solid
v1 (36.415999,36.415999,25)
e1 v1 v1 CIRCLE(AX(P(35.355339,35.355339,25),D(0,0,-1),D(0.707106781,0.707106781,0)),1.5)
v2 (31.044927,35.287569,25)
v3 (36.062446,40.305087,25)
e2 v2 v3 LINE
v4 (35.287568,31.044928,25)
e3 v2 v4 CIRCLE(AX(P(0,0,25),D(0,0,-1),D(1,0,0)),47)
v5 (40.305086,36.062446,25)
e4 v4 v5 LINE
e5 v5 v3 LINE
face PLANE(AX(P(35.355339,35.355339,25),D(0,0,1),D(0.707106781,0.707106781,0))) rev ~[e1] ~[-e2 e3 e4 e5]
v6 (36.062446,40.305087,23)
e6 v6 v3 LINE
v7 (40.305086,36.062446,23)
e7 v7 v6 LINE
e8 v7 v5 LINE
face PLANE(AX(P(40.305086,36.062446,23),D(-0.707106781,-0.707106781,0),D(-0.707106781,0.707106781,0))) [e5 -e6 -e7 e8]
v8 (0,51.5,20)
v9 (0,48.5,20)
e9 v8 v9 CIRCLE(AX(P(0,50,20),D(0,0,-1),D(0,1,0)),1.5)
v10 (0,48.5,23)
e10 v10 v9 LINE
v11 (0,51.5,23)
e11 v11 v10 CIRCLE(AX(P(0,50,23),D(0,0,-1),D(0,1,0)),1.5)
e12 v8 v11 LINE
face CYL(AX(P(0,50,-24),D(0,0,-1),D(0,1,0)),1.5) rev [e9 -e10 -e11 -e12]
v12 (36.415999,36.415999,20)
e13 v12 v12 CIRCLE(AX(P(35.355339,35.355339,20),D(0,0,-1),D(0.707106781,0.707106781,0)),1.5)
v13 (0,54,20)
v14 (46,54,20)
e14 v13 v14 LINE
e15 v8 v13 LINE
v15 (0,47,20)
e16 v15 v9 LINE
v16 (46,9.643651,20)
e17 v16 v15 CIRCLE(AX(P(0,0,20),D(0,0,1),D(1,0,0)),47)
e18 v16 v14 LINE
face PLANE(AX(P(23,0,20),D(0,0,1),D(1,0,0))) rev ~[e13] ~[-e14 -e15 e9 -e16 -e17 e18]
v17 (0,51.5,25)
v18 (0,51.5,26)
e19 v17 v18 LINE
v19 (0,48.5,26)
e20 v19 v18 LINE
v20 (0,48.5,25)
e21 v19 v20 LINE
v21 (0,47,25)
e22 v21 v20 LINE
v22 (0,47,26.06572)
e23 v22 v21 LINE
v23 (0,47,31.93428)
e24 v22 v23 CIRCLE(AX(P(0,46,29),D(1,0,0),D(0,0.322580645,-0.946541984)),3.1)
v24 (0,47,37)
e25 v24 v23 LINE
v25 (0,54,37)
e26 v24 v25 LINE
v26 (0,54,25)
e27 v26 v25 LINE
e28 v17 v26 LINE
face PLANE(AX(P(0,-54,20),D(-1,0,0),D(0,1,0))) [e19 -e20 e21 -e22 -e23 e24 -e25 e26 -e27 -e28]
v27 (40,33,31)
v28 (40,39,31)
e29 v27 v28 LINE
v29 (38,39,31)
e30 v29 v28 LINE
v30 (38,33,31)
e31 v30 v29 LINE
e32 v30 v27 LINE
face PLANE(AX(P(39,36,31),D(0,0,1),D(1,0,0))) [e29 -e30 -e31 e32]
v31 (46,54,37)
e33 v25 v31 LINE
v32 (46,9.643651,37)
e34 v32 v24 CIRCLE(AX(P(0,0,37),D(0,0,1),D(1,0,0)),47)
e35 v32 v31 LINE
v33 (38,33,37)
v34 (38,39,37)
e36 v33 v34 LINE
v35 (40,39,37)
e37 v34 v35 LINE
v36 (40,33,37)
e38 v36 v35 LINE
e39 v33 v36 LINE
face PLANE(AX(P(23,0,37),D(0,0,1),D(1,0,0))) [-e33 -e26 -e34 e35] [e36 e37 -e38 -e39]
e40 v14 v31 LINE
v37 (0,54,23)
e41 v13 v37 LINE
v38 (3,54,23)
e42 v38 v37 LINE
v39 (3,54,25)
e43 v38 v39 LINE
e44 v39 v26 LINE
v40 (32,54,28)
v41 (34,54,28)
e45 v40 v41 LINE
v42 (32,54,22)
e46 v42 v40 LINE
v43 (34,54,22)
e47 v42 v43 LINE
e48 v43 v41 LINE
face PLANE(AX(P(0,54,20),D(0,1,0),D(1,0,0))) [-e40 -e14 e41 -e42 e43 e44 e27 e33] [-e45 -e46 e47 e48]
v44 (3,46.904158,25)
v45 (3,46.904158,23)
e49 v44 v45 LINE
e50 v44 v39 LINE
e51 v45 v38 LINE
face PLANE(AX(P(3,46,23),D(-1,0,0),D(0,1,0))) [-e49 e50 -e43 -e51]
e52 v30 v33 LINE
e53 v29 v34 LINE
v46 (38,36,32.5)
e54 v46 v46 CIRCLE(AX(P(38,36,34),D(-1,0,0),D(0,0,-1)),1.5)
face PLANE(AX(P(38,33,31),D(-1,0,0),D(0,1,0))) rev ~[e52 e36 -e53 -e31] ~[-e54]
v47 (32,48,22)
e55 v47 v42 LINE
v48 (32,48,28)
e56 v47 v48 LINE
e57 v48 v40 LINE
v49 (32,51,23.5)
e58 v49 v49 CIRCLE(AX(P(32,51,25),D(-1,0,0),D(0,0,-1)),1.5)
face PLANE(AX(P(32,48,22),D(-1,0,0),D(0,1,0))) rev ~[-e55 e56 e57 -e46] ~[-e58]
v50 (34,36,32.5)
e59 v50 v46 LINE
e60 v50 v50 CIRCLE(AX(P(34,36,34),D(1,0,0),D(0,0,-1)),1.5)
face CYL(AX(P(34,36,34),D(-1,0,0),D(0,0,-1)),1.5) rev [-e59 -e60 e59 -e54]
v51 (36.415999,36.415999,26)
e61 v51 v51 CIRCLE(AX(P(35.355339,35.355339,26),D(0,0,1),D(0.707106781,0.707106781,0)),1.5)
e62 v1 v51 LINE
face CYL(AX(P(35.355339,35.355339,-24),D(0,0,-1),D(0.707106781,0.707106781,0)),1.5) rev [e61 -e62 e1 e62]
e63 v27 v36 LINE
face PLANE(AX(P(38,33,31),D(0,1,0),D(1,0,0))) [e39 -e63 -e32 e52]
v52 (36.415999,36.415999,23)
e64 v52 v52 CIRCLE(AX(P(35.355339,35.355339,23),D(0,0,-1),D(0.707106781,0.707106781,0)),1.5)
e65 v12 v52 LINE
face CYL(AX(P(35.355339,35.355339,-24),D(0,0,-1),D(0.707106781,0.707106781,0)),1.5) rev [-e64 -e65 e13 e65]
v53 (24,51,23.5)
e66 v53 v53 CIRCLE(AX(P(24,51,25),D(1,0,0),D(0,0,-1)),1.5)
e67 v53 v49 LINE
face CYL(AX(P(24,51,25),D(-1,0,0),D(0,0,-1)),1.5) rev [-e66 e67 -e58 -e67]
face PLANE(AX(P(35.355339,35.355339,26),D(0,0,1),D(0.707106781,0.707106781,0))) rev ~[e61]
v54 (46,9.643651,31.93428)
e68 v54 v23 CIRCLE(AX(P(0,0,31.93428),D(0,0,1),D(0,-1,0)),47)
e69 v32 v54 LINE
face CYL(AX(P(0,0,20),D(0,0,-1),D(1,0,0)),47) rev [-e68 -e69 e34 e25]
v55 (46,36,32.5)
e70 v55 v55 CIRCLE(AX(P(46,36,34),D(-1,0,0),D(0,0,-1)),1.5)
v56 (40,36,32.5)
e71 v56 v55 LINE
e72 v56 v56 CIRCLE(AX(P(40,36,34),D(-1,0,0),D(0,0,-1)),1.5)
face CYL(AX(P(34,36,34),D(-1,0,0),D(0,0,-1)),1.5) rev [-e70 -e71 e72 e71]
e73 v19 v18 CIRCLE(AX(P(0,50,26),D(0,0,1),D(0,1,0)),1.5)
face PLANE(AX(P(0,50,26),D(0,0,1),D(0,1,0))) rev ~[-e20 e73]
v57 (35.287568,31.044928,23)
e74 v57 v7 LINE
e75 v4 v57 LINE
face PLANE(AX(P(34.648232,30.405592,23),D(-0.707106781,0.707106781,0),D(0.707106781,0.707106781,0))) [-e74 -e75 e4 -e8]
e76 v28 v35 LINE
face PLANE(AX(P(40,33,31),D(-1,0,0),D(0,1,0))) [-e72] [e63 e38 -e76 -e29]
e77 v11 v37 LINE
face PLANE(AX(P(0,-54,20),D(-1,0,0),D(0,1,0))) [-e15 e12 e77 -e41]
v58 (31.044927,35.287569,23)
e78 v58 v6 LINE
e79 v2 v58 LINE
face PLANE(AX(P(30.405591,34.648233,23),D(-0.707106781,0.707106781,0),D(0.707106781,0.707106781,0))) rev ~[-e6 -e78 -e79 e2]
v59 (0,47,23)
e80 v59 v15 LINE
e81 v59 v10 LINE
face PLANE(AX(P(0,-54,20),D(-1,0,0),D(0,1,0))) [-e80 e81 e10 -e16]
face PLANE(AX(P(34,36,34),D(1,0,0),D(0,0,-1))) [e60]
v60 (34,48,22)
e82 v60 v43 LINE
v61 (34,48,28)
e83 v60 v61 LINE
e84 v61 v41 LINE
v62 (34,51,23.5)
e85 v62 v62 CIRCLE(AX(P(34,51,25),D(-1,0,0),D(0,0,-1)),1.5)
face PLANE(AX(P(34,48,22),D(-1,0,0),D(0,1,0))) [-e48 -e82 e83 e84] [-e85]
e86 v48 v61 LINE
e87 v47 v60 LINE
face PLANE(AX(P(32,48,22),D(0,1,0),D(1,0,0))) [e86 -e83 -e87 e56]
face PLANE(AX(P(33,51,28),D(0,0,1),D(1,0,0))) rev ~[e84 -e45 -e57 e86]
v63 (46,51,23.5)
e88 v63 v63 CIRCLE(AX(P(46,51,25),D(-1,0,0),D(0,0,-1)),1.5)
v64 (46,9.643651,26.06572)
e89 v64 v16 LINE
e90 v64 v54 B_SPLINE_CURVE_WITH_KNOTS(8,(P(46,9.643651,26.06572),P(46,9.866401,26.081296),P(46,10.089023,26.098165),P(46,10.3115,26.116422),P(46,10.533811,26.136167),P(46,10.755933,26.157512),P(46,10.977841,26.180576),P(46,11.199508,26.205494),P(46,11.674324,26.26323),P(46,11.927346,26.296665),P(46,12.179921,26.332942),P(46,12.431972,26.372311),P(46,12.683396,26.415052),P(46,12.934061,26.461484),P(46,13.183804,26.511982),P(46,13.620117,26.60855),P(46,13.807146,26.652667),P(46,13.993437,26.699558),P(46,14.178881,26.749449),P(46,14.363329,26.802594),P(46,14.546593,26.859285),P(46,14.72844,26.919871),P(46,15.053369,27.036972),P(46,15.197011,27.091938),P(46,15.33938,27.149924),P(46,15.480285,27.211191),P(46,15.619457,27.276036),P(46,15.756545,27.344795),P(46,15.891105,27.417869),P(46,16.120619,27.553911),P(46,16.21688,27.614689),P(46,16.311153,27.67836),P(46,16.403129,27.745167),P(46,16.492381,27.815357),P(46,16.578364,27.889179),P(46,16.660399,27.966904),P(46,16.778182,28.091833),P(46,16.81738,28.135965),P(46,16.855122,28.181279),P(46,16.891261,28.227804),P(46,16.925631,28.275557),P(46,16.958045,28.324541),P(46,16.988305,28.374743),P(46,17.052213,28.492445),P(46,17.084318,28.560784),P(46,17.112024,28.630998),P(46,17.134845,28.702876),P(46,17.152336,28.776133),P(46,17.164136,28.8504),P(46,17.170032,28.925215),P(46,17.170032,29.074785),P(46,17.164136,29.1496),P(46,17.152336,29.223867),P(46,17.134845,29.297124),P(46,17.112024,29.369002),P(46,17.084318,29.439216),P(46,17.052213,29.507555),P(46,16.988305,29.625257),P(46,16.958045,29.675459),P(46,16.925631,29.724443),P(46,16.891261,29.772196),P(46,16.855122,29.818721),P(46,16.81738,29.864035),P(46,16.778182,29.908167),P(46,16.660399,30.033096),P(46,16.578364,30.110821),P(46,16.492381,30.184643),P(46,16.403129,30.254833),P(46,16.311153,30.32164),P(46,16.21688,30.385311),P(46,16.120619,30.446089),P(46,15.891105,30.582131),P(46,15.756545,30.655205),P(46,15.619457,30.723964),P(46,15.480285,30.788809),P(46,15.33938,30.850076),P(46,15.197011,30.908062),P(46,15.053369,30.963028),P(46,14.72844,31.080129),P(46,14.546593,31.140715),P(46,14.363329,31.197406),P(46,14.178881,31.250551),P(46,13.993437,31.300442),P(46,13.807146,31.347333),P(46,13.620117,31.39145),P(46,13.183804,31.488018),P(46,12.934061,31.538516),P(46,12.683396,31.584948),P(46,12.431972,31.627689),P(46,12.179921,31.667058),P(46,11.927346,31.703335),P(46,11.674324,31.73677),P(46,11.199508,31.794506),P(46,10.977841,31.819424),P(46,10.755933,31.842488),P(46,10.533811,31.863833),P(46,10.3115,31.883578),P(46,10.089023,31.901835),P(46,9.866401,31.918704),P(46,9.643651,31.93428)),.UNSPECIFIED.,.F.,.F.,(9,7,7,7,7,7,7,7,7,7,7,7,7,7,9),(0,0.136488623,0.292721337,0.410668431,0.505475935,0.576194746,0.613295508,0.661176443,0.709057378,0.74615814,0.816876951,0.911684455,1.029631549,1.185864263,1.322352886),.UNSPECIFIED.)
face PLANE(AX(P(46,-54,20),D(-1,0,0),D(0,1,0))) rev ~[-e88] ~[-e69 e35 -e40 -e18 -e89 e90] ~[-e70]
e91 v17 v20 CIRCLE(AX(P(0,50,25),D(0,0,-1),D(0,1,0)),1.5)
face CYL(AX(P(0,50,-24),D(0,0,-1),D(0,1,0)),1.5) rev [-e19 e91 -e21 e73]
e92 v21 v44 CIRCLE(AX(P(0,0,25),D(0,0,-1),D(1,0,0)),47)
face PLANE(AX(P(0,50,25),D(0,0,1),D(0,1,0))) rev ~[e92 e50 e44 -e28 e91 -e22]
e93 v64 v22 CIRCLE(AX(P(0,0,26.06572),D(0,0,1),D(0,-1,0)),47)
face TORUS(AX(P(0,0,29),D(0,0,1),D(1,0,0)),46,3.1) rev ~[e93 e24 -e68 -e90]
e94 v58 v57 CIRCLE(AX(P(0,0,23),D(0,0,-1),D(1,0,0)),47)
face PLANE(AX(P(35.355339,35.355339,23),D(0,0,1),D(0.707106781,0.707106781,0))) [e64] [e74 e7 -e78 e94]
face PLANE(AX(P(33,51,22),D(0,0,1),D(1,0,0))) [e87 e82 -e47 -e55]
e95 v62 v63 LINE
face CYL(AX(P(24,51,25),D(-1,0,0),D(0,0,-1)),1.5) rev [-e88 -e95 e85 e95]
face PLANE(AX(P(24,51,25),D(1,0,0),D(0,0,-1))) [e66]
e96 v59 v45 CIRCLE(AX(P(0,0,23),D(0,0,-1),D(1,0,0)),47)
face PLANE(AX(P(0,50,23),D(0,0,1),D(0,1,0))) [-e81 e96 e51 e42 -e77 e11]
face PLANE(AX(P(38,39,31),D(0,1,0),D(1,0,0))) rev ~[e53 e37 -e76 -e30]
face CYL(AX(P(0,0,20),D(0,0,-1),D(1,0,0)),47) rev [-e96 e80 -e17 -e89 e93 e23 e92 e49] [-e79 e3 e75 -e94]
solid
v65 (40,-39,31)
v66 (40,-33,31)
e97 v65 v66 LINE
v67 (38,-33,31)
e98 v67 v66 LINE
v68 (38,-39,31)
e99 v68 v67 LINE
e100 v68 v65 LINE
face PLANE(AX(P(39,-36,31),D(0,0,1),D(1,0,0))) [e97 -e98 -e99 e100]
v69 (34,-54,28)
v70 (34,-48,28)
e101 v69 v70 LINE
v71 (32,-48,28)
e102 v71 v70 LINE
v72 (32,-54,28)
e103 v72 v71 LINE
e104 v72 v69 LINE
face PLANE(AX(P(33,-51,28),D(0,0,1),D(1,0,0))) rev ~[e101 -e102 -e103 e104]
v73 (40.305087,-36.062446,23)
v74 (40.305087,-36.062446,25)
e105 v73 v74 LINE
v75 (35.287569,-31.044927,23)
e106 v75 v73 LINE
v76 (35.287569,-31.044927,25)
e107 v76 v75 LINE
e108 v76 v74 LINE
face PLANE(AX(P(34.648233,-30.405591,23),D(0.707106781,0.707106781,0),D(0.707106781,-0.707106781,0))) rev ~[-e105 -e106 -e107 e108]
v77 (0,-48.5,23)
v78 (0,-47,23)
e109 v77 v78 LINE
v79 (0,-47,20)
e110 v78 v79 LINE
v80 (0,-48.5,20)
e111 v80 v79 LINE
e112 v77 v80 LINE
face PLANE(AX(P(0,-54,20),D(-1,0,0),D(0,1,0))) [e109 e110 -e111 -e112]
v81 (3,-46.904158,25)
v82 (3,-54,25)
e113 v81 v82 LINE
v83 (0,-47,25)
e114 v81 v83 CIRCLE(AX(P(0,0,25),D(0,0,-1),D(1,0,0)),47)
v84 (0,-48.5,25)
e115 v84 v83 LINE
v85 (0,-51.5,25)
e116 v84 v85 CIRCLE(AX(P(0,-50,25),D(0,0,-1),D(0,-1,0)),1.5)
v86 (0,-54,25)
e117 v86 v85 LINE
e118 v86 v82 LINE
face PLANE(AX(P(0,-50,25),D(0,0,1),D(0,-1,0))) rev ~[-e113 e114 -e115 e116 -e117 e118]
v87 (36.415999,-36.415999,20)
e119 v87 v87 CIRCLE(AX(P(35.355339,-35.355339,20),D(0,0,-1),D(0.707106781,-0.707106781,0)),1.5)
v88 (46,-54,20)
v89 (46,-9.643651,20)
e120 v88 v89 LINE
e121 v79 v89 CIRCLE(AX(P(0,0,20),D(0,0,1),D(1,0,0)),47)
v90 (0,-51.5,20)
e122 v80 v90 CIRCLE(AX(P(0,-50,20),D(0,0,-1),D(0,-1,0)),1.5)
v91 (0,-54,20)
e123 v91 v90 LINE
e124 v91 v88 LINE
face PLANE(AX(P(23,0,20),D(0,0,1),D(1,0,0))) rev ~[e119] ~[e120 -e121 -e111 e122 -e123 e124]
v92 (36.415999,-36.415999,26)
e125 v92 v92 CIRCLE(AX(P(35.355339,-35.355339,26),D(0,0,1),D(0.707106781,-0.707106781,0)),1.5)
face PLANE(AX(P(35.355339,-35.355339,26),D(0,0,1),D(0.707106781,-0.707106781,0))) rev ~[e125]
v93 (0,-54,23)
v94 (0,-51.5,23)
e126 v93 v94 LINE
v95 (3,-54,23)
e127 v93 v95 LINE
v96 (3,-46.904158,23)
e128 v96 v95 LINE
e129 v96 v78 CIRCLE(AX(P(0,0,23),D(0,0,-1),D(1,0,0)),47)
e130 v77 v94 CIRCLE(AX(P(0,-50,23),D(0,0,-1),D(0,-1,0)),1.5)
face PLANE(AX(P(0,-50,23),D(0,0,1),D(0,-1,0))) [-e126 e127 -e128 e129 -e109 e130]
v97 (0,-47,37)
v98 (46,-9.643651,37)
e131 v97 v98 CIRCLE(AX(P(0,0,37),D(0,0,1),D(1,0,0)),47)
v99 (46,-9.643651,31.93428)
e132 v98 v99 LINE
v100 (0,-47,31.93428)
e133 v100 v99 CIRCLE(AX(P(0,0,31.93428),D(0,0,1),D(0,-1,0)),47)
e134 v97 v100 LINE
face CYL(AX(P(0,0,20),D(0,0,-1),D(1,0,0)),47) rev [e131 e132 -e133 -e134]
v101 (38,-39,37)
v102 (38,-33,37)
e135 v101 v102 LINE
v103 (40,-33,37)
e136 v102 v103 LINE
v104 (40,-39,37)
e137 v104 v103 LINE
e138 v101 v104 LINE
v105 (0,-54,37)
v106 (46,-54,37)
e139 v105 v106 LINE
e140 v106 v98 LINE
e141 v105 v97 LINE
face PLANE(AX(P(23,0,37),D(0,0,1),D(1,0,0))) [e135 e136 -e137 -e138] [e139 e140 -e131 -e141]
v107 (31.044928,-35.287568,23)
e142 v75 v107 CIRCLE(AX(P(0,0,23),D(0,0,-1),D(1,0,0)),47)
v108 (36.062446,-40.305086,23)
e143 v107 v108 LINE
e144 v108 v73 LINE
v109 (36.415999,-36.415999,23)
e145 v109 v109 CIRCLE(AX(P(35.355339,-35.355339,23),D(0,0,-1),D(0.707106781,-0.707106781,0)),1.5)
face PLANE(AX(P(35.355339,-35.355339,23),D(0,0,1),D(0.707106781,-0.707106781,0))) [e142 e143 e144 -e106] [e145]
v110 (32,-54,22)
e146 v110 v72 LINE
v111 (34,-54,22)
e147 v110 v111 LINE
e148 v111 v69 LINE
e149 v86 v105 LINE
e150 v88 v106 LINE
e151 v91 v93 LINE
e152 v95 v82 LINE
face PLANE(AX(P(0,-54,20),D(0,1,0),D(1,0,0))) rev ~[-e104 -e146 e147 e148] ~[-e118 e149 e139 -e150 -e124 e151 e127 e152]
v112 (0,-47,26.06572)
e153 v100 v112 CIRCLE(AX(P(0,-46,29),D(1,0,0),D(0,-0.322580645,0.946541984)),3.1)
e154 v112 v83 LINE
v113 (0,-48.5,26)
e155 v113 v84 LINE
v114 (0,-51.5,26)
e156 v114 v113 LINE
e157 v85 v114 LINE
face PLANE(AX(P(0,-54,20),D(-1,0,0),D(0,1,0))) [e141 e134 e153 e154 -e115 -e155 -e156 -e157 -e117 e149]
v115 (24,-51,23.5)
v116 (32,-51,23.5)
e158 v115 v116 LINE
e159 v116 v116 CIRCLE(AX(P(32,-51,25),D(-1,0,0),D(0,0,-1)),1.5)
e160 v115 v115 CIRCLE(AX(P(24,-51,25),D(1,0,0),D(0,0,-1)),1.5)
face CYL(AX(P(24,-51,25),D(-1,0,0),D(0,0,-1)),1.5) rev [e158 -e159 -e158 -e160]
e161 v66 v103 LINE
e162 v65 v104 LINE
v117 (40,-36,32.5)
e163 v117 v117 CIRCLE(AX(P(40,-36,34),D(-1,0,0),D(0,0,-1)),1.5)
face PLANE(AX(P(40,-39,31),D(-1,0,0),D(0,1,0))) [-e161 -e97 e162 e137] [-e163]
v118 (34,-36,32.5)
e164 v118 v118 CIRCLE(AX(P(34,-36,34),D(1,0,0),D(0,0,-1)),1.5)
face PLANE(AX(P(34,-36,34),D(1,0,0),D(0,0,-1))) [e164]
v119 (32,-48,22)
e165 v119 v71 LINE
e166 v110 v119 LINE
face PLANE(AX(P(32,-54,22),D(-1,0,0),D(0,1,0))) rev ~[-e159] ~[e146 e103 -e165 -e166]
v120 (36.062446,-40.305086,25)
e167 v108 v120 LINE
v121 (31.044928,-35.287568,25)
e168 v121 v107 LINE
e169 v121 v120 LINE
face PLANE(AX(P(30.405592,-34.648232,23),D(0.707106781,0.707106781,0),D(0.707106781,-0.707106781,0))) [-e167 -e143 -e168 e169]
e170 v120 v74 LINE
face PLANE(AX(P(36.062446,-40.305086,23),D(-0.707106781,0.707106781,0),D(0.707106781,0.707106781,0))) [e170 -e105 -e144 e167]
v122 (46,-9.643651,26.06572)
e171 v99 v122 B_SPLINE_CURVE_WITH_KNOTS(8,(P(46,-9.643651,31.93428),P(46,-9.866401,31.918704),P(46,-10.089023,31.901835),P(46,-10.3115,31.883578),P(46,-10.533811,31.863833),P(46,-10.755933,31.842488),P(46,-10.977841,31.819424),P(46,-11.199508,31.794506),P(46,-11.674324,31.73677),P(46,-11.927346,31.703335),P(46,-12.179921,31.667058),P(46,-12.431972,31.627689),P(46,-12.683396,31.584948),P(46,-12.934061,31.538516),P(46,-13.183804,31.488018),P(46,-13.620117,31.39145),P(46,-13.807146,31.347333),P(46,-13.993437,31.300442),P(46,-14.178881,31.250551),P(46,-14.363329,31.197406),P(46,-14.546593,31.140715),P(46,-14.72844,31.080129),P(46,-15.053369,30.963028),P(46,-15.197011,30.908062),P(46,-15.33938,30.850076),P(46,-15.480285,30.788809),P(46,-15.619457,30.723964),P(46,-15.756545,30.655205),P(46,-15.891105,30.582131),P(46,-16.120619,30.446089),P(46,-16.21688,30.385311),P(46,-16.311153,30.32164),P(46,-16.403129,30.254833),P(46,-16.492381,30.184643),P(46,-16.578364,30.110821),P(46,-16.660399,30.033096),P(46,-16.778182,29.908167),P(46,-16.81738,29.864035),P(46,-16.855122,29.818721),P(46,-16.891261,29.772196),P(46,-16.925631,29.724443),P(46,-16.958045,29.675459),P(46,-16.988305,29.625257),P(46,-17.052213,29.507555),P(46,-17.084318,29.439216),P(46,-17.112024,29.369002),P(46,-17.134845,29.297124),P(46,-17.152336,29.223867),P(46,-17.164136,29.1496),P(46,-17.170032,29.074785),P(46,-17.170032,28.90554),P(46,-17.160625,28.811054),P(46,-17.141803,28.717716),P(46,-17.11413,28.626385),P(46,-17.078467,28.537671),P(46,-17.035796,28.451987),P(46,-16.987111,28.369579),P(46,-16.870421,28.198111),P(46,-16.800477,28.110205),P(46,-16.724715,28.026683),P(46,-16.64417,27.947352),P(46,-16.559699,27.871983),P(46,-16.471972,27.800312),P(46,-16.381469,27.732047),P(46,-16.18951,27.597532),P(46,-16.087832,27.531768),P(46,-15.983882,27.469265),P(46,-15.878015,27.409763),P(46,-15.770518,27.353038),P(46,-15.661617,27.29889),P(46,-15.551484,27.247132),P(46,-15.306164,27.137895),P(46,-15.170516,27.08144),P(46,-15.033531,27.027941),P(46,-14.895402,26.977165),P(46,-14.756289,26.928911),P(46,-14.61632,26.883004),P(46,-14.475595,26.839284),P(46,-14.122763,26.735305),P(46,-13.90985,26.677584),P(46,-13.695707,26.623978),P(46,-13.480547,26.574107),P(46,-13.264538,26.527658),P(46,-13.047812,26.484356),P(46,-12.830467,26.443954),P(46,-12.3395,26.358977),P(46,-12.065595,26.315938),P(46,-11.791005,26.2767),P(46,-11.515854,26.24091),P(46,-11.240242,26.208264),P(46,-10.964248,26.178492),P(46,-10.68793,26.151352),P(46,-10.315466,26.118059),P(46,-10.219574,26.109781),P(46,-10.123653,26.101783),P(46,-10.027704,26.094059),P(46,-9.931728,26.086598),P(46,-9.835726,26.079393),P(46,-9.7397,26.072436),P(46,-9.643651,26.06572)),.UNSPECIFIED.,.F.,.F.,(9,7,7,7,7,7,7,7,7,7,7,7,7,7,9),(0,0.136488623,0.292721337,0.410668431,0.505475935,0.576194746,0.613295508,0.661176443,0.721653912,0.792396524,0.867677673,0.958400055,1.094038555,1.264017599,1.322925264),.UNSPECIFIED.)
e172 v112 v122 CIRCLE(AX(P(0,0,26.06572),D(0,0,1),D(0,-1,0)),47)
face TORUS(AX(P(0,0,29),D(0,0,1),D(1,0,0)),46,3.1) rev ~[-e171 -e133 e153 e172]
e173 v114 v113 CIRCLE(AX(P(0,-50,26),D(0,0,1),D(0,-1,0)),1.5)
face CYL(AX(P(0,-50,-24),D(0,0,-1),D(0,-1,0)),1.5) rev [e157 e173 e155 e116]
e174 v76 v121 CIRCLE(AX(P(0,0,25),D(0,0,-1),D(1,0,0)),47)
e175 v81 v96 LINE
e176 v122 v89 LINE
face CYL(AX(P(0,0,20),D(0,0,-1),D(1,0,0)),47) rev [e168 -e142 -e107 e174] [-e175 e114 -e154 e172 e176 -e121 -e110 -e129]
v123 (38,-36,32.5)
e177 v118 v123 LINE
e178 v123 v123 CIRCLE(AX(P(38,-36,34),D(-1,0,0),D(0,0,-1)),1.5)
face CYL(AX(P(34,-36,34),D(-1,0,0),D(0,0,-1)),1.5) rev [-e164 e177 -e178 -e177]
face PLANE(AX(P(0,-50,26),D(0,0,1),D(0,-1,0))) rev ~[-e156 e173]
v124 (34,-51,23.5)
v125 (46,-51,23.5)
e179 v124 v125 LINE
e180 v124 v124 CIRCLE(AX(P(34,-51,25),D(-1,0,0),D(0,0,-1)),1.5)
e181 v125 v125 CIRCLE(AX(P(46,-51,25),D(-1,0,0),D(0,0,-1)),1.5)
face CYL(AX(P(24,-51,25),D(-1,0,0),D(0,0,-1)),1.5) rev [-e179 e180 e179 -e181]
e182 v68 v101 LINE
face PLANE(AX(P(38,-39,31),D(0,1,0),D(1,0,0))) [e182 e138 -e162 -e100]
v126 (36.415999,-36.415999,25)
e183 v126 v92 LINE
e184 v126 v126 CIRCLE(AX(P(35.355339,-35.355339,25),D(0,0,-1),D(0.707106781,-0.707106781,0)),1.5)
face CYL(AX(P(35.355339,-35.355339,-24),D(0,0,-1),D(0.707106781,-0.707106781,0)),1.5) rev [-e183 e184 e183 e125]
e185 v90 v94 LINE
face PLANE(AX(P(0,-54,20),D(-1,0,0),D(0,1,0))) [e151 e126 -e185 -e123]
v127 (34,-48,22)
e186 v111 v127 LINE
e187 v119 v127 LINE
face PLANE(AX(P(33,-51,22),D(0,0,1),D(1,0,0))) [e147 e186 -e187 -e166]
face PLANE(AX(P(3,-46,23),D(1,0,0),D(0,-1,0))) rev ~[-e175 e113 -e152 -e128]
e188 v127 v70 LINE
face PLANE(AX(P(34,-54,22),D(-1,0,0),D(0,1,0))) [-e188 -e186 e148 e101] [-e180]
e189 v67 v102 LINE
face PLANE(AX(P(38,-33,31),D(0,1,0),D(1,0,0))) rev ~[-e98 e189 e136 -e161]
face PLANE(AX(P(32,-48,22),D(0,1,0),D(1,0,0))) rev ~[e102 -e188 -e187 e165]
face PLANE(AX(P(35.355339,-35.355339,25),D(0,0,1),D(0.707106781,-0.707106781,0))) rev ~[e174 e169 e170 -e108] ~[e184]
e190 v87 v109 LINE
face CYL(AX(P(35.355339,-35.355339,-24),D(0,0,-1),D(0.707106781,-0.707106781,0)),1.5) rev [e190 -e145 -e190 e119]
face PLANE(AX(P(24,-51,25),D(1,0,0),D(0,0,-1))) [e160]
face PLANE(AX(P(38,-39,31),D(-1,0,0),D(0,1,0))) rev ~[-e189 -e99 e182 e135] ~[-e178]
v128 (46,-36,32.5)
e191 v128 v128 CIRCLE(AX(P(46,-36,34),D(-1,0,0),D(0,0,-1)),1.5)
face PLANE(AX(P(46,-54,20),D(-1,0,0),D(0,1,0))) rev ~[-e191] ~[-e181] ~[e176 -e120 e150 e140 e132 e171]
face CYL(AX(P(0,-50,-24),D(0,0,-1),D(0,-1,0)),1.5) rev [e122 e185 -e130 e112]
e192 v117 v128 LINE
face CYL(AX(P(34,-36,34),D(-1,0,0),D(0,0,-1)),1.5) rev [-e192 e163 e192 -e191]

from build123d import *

# Parameters (mm, degrees)
BOX178_W                    = 2
BOX178_H                    = 6
BOX178_DEPTH                = 6
BOX179_W                    = 2
BOX179_H                    = 6
BOX179_DEPTH                = 6
BOX180_W                    = 2
BOX180_H                    = 6
BOX180_DEPTH                = 6
BOX177_W                    = 2
BOX177_H                    = 6
BOX177_DEPTH                = 6
CYLINDER392_R               = 1.5
CYLINDER392_DEPTH           = 100
CYLINDER393_R               = 1.5
CYLINDER393_DEPTH           = 100
CYLINDER394_R               = 1.5
CYLINDER394_DEPTH           = 100
CYLINDER391_R               = 1.5
CYLINDER391_DEPTH           = 100
BOX171_W                    = 8
BOX171_H                    = 6
BOX171_DEPTH                = 2
BOX171_PLACEMENT_ANGLE      = 45
BOX165_W                    = 8
BOX165_H                    = 6
BOX165_DEPTH                = 2
BOX166_W                    = 8
BOX166_H                    = 6
BOX166_DEPTH                = 2
BOX166_PLACEMENT_ANGLE      = 135
BOX168_W                    = 8
BOX168_H                    = 6
BOX168_DEPTH                = 2
BOX169_W                    = 8
BOX169_H                    = 6
BOX169_DEPTH                = 2
BOX169_PLACEMENT_ANGLE      = 225
BOX172_W                    = 8
BOX172_H                    = 6
BOX172_DEPTH                = 2
BOX170_W                    = 8
BOX170_H                    = 6
BOX170_DEPTH                = 2
BOX170_PLACEMENT_ANGLE      = 45
BOX167_W                    = 8
BOX167_H                    = 6
BOX167_DEPTH                = 2
CYLINDER375_R               = 1.5
CYLINDER375_DEPTH           = 50
CYLINDER375_PLACEMENT_ANGLE = 45
CYLINDER376_R               = 1.5
CYLINDER376_DEPTH           = 50
CYLINDER377_R               = 1.5
CYLINDER377_DEPTH           = 50
CYLINDER377_PLACEMENT_ANGLE = 135
CYLINDER378_R               = 1.5
CYLINDER378_DEPTH           = 50
CYLINDER379_R               = 1.5
CYLINDER379_DEPTH           = 50
CYLINDER379_PLACEMENT_ANGLE = 225
CYLINDER380_R               = 1.5
CYLINDER380_DEPTH           = 50
CYLINDER381_R               = 1.5
CYLINDER381_DEPTH           = 50
CYLINDER381_PLACEMENT_ANGLE = 45
CYLINDER374_R               = 1.5
CYLINDER374_DEPTH           = 50
TORUS005_R                  = 3.1
CYLINDER_R                  = 47
CYLINDER_DEPTH              = 17
BOX156_W                    = 46
BOX156_H                    = 108
BOX156_DEPTH                = 17


with BuildPart() as krychle178:
    # Box178 → Box178 (new body)
    with BuildSketch(Plane(origin=(32, -54, 22), x_dir=(1, 0, 0), z_dir=(0, 0, 1))):
        with Locations((1, 3)):
            Rectangle(BOX178_W, BOX178_H)
    extrude(amount=BOX178_DEPTH)


with BuildPart() as krychle179:
    # Box179 → Box179 (new body)
    with BuildSketch(Plane(origin=(38, 33, 31), x_dir=(1, 0, 0), z_dir=(0, 0, 1))):
        with Locations((1, 3)):
            Rectangle(BOX179_W, BOX179_H)
    extrude(amount=BOX179_DEPTH)


with BuildPart() as krychle180:
    # Box180 → Box180 (new body)
    with BuildSketch(Plane(origin=(38, -39, 31), x_dir=(1, 0, 0), z_dir=(0, 0, 1))):
        with Locations((1, 3)):
            Rectangle(BOX180_W, BOX180_H)
    extrude(amount=BOX180_DEPTH)


with BuildPart() as compound304:
    # Box177 → Box177 (new body)
    with BuildSketch(Plane(origin=(32, 48, 22), x_dir=(1, 0, 0), z_dir=(0, 0, 1))):
        with Locations((1, 3)):
            Rectangle(BOX177_W, BOX177_H)
    extrude(amount=BOX177_DEPTH)

    # Compound304: union Krychle178, Krychle179, Krychle180
    add(krychle178.part)
    add(krychle179.part)
    add(krychle180.part)


with BuildPart() as v_lec392:
    # Cylinder392 → Cylinder392 (new body)
    with BuildSketch(Plane(origin=(24, -51, 25), x_dir=(0, 0, -1), z_dir=(1, 0, 0))):
        Circle(CYLINDER392_R)
    extrude(amount=CYLINDER392_DEPTH)


with BuildPart() as v_lec393:
    # Cylinder393 → Cylinder393 (new body)
    with BuildSketch(Plane(origin=(34, 36, 34), x_dir=(0, 0, -1), z_dir=(1, 0, 0))):
        Circle(CYLINDER393_R)
    extrude(amount=CYLINDER393_DEPTH)


with BuildPart() as v_lec394:
    # Cylinder394 → Cylinder394 (new body)
    with BuildSketch(Plane(origin=(34, -36, 34), x_dir=(0, 0, -1), z_dir=(1, 0, 0))):
        Circle(CYLINDER394_R)
    extrude(amount=CYLINDER394_DEPTH)


with BuildPart() as compound301:
    # Cylinder391 → Cylinder391 (new body)
    with BuildSketch(Plane(origin=(24, 51, 25), x_dir=(0, 0, -1), z_dir=(1, 0, 0))):
        Circle(CYLINDER391_R)
    extrude(amount=CYLINDER391_DEPTH)

    # Compound301: union Válec392, Válec393, Válec394
    add(v_lec392.part)
    add(v_lec393.part)
    add(v_lec394.part)


with BuildPart() as krychle171:
    # Box171 → Box171 (new body)
    with BuildSketch(Plane.XY):
        with Locations((4, 3)):
            Rectangle(BOX171_W, BOX171_H)
    extrude(amount=BOX171_DEPTH)


with BuildPart() as krychle171_1:
    # Box171 placement: moved
    add(krychle171.part.moved(Location((34.648232, 30.405592, 23))).rotate(Axis((34.648232, 30.405592, 23), (0, 0, 1)), BOX171_PLACEMENT_ANGLE))


with BuildPart() as krychle165:
    # Box165 → Box165 (new body)
    with BuildSketch(Plane(origin=(3, 46, 23), x_dir=(0, 1, 0), z_dir=(0, 0, 1))):
        with Locations((4, 3)):
            Rectangle(BOX165_W, BOX165_H)
    extrude(amount=BOX165_DEPTH)


with BuildPart() as krychle166:
    # Box166 → Box166 (new body)
    with BuildSketch(Plane.XY):
        with Locations((4, 3)):
            Rectangle(BOX166_W, BOX166_H)
    extrude(amount=BOX166_DEPTH)


with BuildPart() as krychle166_1:
    # Box166 placement: moved
    add(krychle166.part.moved(Location((-30.405592, 34.648232, 23))).rotate(Axis((-30.405592, 34.648232, 23), (0, 0, 1)), BOX166_PLACEMENT_ANGLE))


with BuildPart() as krychle168:
    # Box168 → Box168 (new body)
    with BuildSketch(Plane(origin=(-46, 3, 23), x_dir=(-1, 0, 0), z_dir=(0, 0, 1))):
        with Locations((4, 3)):
            Rectangle(BOX168_W, BOX168_H)
    extrude(amount=BOX168_DEPTH)


with BuildPart() as krychle169:
    # Box169 → Box169 (new body)
    with BuildSketch(Plane.XY):
        with Locations((4, 3)):
            Rectangle(BOX169_W, BOX169_H)
    extrude(amount=BOX169_DEPTH)


with BuildPart() as krychle169_1:
    # Box169 placement: moved
    add(krychle169.part.moved(Location((-34.648232, -30.405592, 23))).rotate(Axis((-34.648232, -30.405592, 23), (0, 0, 1)), BOX169_PLACEMENT_ANGLE))


with BuildPart() as krychle172:
    # Box172 → Box172 (new body)
    with BuildSketch(Plane(origin=(-3, -46, 23), x_dir=(0, -1, 0), z_dir=(0, 0, 1))):
        with Locations((4, 3)):
            Rectangle(BOX172_W, BOX172_H)
    extrude(amount=BOX172_DEPTH)


with BuildPart() as krychle170:
    # Box170 → Box170 (new body)
    with BuildSketch(Plane.XY):
        with Locations((4, 3)):
            Rectangle(BOX170_W, BOX170_H)
    extrude(amount=BOX170_DEPTH)


with BuildPart() as krychle170_1:
    # Box170 placement: moved
    add(krychle170.part.moved(Location((30.405592, -34.648232, 23))).rotate(Axis((30.405592, -34.648232, 23), (0, 0, -1)), BOX170_PLACEMENT_ANGLE))


with BuildPart() as compound300:
    # Box167 → Box167 (new body)
    with BuildSketch(Plane(origin=(46, -3, 23), x_dir=(1, 0, 0), z_dir=(0, 0, 1))):
        with Locations((4, 3)):
            Rectangle(BOX167_W, BOX167_H)
    extrude(amount=BOX167_DEPTH)

    # Compound300: union Krychle171, Krychle165, Krychle166, Krychle168, Krychle169, Krychle172, Krychle170
    add(krychle171_1.part)
    add(krychle165.part)
    add(krychle166_1.part)
    add(krychle168.part)
    add(krychle169_1.part)
    add(krychle172.part)
    add(krychle170_1.part)


with BuildPart() as v_lec375:
    # Cylinder375 → Cylinder375 (new body)
    with BuildSketch(Plane.XY):
        Circle(CYLINDER375_R)
    extrude(amount=CYLINDER375_DEPTH)


with BuildPart() as v_lec375_1:
    # Cylinder375 placement: moved
    add(v_lec375.part.moved(Location((35.355339, 35.355339, -15))).rotate(Axis((35.355339, 35.355339, -15), (0, 0, 1)), CYLINDER375_PLACEMENT_ANGLE))


with BuildPart() as v_lec376:
    # Cylinder376 → Cylinder376 (new body)
    with BuildSketch(Plane(origin=(0, 50, -15), x_dir=(0, 1, 0), z_dir=(0, 0, 1))):
        Circle(CYLINDER376_R)
    extrude(amount=CYLINDER376_DEPTH)


with BuildPart() as v_lec377:
    # Cylinder377 → Cylinder377 (new body)
    with BuildSketch(Plane.XY):
        Circle(CYLINDER377_R)
    extrude(amount=CYLINDER377_DEPTH)


with BuildPart() as v_lec377_1:
    # Cylinder377 placement: moved
    add(v_lec377.part.moved(Location((-35.355339, 35.355339, -15))).rotate(Axis((-35.355339, 35.355339, -15), (0, 0, 1)), CYLINDER377_PLACEMENT_ANGLE))


with BuildPart() as v_lec378:
    # Cylinder378 → Cylinder378 (new body)
    with BuildSketch(Plane(origin=(-50, 0, -15), x_dir=(-1, 0, 0), z_dir=(0, 0, 1))):
        Circle(CYLINDER378_R)
    extrude(amount=CYLINDER378_DEPTH)


with BuildPart() as v_lec379:
    # Cylinder379 → Cylinder379 (new body)
    with BuildSketch(Plane.XY):
        Circle(CYLINDER379_R)
    extrude(amount=CYLINDER379_DEPTH)


with BuildPart() as v_lec379_1:
    # Cylinder379 placement: moved
    add(v_lec379.part.moved(Location((-35.355339, -35.355339, -15))).rotate(Axis((-35.355339, -35.355339, -15), (0, 0, 1)), CYLINDER379_PLACEMENT_ANGLE))


with BuildPart() as v_lec380:
    # Cylinder380 → Cylinder380 (new body)
    with BuildSketch(Plane(origin=(0, -50, -15), x_dir=(0, -1, 0), z_dir=(0, 0, 1))):
        Circle(CYLINDER380_R)
    extrude(amount=CYLINDER380_DEPTH)


with BuildPart() as v_lec381:
    # Cylinder381 → Cylinder381 (new body)
    with BuildSketch(Plane.XY):
        Circle(CYLINDER381_R)
    extrude(amount=CYLINDER381_DEPTH)


with BuildPart() as v_lec381_1:
    # Cylinder381 placement: moved
    add(v_lec381.part.moved(Location((35.355339, -35.355339, -15))).rotate(Axis((35.355339, -35.355339, -15), (0, 0, -1)), CYLINDER381_PLACEMENT_ANGLE))


with BuildPart() as compound298:
    # Cylinder374 → Cylinder374 (new body)
    with BuildSketch(Plane(origin=(50, 0, -15), x_dir=(1, 0, 0), z_dir=(0, 0, 1))):
        Circle(CYLINDER374_R)
    extrude(amount=CYLINDER374_DEPTH)

    # Compound298: union Válec375, Válec376, Válec377, Válec378, Válec379, Válec380, Válec381
    add(v_lec375_1.part)
    add(v_lec376.part)
    add(v_lec377_1.part)
    add(v_lec378.part)
    add(v_lec379_1.part)
    add(v_lec380.part)
    add(v_lec381_1.part)


with BuildPart() as compound298_1:
    # Compound298 placement: moved
    add(compound298.part.moved(Location((0, 0, -9))))


with BuildPart() as anuloid005:
    # Torus005 → Torus005 (revolve)
    with BuildSketch(Plane(origin=(0, 0, 29), x_dir=(1, 0, 0), z_dir=(0, -1, 0))):
        with Locations((46, 0)):
            Circle(TORUS005_R)
    revolve(axis=Axis((0, 0, 29), (0, 0, 1)))


with BuildPart() as v_lec:
    # Cylinder → Cylinder (new body)
    with BuildSketch(Plane.XY.offset(20)):
        Circle(CYLINDER_R)
    extrude(amount=CYLINDER_DEPTH)


with BuildPart() as cut158:
    # Box156 → Box156 (new body)
    with BuildSketch(Plane(origin=(0, -54, 20), x_dir=(1, 0, 0), z_dir=(0, 0, 1))):
        with Locations((23, 54)):
            Rectangle(BOX156_W, BOX156_H)
    extrude(amount=BOX156_DEPTH)

    # Cut153: cut Válec
    add(v_lec.part, mode=Mode.SUBTRACT)

    # Cut154: cut Anuloid005
    add(anuloid005.part, mode=Mode.SUBTRACT)

    # Cut155: cut Compound298
    add(compound298_1.part, mode=Mode.SUBTRACT)

    # Cut156: cut Compound300
    add(compound300.part, mode=Mode.SUBTRACT)

    # Cut157: cut Compound301
    add(compound301.part, mode=Mode.SUBTRACT)

    # Cut158: cut Compound304
    add(compound304.part, mode=Mode.SUBTRACT)


solid = cut158.part
